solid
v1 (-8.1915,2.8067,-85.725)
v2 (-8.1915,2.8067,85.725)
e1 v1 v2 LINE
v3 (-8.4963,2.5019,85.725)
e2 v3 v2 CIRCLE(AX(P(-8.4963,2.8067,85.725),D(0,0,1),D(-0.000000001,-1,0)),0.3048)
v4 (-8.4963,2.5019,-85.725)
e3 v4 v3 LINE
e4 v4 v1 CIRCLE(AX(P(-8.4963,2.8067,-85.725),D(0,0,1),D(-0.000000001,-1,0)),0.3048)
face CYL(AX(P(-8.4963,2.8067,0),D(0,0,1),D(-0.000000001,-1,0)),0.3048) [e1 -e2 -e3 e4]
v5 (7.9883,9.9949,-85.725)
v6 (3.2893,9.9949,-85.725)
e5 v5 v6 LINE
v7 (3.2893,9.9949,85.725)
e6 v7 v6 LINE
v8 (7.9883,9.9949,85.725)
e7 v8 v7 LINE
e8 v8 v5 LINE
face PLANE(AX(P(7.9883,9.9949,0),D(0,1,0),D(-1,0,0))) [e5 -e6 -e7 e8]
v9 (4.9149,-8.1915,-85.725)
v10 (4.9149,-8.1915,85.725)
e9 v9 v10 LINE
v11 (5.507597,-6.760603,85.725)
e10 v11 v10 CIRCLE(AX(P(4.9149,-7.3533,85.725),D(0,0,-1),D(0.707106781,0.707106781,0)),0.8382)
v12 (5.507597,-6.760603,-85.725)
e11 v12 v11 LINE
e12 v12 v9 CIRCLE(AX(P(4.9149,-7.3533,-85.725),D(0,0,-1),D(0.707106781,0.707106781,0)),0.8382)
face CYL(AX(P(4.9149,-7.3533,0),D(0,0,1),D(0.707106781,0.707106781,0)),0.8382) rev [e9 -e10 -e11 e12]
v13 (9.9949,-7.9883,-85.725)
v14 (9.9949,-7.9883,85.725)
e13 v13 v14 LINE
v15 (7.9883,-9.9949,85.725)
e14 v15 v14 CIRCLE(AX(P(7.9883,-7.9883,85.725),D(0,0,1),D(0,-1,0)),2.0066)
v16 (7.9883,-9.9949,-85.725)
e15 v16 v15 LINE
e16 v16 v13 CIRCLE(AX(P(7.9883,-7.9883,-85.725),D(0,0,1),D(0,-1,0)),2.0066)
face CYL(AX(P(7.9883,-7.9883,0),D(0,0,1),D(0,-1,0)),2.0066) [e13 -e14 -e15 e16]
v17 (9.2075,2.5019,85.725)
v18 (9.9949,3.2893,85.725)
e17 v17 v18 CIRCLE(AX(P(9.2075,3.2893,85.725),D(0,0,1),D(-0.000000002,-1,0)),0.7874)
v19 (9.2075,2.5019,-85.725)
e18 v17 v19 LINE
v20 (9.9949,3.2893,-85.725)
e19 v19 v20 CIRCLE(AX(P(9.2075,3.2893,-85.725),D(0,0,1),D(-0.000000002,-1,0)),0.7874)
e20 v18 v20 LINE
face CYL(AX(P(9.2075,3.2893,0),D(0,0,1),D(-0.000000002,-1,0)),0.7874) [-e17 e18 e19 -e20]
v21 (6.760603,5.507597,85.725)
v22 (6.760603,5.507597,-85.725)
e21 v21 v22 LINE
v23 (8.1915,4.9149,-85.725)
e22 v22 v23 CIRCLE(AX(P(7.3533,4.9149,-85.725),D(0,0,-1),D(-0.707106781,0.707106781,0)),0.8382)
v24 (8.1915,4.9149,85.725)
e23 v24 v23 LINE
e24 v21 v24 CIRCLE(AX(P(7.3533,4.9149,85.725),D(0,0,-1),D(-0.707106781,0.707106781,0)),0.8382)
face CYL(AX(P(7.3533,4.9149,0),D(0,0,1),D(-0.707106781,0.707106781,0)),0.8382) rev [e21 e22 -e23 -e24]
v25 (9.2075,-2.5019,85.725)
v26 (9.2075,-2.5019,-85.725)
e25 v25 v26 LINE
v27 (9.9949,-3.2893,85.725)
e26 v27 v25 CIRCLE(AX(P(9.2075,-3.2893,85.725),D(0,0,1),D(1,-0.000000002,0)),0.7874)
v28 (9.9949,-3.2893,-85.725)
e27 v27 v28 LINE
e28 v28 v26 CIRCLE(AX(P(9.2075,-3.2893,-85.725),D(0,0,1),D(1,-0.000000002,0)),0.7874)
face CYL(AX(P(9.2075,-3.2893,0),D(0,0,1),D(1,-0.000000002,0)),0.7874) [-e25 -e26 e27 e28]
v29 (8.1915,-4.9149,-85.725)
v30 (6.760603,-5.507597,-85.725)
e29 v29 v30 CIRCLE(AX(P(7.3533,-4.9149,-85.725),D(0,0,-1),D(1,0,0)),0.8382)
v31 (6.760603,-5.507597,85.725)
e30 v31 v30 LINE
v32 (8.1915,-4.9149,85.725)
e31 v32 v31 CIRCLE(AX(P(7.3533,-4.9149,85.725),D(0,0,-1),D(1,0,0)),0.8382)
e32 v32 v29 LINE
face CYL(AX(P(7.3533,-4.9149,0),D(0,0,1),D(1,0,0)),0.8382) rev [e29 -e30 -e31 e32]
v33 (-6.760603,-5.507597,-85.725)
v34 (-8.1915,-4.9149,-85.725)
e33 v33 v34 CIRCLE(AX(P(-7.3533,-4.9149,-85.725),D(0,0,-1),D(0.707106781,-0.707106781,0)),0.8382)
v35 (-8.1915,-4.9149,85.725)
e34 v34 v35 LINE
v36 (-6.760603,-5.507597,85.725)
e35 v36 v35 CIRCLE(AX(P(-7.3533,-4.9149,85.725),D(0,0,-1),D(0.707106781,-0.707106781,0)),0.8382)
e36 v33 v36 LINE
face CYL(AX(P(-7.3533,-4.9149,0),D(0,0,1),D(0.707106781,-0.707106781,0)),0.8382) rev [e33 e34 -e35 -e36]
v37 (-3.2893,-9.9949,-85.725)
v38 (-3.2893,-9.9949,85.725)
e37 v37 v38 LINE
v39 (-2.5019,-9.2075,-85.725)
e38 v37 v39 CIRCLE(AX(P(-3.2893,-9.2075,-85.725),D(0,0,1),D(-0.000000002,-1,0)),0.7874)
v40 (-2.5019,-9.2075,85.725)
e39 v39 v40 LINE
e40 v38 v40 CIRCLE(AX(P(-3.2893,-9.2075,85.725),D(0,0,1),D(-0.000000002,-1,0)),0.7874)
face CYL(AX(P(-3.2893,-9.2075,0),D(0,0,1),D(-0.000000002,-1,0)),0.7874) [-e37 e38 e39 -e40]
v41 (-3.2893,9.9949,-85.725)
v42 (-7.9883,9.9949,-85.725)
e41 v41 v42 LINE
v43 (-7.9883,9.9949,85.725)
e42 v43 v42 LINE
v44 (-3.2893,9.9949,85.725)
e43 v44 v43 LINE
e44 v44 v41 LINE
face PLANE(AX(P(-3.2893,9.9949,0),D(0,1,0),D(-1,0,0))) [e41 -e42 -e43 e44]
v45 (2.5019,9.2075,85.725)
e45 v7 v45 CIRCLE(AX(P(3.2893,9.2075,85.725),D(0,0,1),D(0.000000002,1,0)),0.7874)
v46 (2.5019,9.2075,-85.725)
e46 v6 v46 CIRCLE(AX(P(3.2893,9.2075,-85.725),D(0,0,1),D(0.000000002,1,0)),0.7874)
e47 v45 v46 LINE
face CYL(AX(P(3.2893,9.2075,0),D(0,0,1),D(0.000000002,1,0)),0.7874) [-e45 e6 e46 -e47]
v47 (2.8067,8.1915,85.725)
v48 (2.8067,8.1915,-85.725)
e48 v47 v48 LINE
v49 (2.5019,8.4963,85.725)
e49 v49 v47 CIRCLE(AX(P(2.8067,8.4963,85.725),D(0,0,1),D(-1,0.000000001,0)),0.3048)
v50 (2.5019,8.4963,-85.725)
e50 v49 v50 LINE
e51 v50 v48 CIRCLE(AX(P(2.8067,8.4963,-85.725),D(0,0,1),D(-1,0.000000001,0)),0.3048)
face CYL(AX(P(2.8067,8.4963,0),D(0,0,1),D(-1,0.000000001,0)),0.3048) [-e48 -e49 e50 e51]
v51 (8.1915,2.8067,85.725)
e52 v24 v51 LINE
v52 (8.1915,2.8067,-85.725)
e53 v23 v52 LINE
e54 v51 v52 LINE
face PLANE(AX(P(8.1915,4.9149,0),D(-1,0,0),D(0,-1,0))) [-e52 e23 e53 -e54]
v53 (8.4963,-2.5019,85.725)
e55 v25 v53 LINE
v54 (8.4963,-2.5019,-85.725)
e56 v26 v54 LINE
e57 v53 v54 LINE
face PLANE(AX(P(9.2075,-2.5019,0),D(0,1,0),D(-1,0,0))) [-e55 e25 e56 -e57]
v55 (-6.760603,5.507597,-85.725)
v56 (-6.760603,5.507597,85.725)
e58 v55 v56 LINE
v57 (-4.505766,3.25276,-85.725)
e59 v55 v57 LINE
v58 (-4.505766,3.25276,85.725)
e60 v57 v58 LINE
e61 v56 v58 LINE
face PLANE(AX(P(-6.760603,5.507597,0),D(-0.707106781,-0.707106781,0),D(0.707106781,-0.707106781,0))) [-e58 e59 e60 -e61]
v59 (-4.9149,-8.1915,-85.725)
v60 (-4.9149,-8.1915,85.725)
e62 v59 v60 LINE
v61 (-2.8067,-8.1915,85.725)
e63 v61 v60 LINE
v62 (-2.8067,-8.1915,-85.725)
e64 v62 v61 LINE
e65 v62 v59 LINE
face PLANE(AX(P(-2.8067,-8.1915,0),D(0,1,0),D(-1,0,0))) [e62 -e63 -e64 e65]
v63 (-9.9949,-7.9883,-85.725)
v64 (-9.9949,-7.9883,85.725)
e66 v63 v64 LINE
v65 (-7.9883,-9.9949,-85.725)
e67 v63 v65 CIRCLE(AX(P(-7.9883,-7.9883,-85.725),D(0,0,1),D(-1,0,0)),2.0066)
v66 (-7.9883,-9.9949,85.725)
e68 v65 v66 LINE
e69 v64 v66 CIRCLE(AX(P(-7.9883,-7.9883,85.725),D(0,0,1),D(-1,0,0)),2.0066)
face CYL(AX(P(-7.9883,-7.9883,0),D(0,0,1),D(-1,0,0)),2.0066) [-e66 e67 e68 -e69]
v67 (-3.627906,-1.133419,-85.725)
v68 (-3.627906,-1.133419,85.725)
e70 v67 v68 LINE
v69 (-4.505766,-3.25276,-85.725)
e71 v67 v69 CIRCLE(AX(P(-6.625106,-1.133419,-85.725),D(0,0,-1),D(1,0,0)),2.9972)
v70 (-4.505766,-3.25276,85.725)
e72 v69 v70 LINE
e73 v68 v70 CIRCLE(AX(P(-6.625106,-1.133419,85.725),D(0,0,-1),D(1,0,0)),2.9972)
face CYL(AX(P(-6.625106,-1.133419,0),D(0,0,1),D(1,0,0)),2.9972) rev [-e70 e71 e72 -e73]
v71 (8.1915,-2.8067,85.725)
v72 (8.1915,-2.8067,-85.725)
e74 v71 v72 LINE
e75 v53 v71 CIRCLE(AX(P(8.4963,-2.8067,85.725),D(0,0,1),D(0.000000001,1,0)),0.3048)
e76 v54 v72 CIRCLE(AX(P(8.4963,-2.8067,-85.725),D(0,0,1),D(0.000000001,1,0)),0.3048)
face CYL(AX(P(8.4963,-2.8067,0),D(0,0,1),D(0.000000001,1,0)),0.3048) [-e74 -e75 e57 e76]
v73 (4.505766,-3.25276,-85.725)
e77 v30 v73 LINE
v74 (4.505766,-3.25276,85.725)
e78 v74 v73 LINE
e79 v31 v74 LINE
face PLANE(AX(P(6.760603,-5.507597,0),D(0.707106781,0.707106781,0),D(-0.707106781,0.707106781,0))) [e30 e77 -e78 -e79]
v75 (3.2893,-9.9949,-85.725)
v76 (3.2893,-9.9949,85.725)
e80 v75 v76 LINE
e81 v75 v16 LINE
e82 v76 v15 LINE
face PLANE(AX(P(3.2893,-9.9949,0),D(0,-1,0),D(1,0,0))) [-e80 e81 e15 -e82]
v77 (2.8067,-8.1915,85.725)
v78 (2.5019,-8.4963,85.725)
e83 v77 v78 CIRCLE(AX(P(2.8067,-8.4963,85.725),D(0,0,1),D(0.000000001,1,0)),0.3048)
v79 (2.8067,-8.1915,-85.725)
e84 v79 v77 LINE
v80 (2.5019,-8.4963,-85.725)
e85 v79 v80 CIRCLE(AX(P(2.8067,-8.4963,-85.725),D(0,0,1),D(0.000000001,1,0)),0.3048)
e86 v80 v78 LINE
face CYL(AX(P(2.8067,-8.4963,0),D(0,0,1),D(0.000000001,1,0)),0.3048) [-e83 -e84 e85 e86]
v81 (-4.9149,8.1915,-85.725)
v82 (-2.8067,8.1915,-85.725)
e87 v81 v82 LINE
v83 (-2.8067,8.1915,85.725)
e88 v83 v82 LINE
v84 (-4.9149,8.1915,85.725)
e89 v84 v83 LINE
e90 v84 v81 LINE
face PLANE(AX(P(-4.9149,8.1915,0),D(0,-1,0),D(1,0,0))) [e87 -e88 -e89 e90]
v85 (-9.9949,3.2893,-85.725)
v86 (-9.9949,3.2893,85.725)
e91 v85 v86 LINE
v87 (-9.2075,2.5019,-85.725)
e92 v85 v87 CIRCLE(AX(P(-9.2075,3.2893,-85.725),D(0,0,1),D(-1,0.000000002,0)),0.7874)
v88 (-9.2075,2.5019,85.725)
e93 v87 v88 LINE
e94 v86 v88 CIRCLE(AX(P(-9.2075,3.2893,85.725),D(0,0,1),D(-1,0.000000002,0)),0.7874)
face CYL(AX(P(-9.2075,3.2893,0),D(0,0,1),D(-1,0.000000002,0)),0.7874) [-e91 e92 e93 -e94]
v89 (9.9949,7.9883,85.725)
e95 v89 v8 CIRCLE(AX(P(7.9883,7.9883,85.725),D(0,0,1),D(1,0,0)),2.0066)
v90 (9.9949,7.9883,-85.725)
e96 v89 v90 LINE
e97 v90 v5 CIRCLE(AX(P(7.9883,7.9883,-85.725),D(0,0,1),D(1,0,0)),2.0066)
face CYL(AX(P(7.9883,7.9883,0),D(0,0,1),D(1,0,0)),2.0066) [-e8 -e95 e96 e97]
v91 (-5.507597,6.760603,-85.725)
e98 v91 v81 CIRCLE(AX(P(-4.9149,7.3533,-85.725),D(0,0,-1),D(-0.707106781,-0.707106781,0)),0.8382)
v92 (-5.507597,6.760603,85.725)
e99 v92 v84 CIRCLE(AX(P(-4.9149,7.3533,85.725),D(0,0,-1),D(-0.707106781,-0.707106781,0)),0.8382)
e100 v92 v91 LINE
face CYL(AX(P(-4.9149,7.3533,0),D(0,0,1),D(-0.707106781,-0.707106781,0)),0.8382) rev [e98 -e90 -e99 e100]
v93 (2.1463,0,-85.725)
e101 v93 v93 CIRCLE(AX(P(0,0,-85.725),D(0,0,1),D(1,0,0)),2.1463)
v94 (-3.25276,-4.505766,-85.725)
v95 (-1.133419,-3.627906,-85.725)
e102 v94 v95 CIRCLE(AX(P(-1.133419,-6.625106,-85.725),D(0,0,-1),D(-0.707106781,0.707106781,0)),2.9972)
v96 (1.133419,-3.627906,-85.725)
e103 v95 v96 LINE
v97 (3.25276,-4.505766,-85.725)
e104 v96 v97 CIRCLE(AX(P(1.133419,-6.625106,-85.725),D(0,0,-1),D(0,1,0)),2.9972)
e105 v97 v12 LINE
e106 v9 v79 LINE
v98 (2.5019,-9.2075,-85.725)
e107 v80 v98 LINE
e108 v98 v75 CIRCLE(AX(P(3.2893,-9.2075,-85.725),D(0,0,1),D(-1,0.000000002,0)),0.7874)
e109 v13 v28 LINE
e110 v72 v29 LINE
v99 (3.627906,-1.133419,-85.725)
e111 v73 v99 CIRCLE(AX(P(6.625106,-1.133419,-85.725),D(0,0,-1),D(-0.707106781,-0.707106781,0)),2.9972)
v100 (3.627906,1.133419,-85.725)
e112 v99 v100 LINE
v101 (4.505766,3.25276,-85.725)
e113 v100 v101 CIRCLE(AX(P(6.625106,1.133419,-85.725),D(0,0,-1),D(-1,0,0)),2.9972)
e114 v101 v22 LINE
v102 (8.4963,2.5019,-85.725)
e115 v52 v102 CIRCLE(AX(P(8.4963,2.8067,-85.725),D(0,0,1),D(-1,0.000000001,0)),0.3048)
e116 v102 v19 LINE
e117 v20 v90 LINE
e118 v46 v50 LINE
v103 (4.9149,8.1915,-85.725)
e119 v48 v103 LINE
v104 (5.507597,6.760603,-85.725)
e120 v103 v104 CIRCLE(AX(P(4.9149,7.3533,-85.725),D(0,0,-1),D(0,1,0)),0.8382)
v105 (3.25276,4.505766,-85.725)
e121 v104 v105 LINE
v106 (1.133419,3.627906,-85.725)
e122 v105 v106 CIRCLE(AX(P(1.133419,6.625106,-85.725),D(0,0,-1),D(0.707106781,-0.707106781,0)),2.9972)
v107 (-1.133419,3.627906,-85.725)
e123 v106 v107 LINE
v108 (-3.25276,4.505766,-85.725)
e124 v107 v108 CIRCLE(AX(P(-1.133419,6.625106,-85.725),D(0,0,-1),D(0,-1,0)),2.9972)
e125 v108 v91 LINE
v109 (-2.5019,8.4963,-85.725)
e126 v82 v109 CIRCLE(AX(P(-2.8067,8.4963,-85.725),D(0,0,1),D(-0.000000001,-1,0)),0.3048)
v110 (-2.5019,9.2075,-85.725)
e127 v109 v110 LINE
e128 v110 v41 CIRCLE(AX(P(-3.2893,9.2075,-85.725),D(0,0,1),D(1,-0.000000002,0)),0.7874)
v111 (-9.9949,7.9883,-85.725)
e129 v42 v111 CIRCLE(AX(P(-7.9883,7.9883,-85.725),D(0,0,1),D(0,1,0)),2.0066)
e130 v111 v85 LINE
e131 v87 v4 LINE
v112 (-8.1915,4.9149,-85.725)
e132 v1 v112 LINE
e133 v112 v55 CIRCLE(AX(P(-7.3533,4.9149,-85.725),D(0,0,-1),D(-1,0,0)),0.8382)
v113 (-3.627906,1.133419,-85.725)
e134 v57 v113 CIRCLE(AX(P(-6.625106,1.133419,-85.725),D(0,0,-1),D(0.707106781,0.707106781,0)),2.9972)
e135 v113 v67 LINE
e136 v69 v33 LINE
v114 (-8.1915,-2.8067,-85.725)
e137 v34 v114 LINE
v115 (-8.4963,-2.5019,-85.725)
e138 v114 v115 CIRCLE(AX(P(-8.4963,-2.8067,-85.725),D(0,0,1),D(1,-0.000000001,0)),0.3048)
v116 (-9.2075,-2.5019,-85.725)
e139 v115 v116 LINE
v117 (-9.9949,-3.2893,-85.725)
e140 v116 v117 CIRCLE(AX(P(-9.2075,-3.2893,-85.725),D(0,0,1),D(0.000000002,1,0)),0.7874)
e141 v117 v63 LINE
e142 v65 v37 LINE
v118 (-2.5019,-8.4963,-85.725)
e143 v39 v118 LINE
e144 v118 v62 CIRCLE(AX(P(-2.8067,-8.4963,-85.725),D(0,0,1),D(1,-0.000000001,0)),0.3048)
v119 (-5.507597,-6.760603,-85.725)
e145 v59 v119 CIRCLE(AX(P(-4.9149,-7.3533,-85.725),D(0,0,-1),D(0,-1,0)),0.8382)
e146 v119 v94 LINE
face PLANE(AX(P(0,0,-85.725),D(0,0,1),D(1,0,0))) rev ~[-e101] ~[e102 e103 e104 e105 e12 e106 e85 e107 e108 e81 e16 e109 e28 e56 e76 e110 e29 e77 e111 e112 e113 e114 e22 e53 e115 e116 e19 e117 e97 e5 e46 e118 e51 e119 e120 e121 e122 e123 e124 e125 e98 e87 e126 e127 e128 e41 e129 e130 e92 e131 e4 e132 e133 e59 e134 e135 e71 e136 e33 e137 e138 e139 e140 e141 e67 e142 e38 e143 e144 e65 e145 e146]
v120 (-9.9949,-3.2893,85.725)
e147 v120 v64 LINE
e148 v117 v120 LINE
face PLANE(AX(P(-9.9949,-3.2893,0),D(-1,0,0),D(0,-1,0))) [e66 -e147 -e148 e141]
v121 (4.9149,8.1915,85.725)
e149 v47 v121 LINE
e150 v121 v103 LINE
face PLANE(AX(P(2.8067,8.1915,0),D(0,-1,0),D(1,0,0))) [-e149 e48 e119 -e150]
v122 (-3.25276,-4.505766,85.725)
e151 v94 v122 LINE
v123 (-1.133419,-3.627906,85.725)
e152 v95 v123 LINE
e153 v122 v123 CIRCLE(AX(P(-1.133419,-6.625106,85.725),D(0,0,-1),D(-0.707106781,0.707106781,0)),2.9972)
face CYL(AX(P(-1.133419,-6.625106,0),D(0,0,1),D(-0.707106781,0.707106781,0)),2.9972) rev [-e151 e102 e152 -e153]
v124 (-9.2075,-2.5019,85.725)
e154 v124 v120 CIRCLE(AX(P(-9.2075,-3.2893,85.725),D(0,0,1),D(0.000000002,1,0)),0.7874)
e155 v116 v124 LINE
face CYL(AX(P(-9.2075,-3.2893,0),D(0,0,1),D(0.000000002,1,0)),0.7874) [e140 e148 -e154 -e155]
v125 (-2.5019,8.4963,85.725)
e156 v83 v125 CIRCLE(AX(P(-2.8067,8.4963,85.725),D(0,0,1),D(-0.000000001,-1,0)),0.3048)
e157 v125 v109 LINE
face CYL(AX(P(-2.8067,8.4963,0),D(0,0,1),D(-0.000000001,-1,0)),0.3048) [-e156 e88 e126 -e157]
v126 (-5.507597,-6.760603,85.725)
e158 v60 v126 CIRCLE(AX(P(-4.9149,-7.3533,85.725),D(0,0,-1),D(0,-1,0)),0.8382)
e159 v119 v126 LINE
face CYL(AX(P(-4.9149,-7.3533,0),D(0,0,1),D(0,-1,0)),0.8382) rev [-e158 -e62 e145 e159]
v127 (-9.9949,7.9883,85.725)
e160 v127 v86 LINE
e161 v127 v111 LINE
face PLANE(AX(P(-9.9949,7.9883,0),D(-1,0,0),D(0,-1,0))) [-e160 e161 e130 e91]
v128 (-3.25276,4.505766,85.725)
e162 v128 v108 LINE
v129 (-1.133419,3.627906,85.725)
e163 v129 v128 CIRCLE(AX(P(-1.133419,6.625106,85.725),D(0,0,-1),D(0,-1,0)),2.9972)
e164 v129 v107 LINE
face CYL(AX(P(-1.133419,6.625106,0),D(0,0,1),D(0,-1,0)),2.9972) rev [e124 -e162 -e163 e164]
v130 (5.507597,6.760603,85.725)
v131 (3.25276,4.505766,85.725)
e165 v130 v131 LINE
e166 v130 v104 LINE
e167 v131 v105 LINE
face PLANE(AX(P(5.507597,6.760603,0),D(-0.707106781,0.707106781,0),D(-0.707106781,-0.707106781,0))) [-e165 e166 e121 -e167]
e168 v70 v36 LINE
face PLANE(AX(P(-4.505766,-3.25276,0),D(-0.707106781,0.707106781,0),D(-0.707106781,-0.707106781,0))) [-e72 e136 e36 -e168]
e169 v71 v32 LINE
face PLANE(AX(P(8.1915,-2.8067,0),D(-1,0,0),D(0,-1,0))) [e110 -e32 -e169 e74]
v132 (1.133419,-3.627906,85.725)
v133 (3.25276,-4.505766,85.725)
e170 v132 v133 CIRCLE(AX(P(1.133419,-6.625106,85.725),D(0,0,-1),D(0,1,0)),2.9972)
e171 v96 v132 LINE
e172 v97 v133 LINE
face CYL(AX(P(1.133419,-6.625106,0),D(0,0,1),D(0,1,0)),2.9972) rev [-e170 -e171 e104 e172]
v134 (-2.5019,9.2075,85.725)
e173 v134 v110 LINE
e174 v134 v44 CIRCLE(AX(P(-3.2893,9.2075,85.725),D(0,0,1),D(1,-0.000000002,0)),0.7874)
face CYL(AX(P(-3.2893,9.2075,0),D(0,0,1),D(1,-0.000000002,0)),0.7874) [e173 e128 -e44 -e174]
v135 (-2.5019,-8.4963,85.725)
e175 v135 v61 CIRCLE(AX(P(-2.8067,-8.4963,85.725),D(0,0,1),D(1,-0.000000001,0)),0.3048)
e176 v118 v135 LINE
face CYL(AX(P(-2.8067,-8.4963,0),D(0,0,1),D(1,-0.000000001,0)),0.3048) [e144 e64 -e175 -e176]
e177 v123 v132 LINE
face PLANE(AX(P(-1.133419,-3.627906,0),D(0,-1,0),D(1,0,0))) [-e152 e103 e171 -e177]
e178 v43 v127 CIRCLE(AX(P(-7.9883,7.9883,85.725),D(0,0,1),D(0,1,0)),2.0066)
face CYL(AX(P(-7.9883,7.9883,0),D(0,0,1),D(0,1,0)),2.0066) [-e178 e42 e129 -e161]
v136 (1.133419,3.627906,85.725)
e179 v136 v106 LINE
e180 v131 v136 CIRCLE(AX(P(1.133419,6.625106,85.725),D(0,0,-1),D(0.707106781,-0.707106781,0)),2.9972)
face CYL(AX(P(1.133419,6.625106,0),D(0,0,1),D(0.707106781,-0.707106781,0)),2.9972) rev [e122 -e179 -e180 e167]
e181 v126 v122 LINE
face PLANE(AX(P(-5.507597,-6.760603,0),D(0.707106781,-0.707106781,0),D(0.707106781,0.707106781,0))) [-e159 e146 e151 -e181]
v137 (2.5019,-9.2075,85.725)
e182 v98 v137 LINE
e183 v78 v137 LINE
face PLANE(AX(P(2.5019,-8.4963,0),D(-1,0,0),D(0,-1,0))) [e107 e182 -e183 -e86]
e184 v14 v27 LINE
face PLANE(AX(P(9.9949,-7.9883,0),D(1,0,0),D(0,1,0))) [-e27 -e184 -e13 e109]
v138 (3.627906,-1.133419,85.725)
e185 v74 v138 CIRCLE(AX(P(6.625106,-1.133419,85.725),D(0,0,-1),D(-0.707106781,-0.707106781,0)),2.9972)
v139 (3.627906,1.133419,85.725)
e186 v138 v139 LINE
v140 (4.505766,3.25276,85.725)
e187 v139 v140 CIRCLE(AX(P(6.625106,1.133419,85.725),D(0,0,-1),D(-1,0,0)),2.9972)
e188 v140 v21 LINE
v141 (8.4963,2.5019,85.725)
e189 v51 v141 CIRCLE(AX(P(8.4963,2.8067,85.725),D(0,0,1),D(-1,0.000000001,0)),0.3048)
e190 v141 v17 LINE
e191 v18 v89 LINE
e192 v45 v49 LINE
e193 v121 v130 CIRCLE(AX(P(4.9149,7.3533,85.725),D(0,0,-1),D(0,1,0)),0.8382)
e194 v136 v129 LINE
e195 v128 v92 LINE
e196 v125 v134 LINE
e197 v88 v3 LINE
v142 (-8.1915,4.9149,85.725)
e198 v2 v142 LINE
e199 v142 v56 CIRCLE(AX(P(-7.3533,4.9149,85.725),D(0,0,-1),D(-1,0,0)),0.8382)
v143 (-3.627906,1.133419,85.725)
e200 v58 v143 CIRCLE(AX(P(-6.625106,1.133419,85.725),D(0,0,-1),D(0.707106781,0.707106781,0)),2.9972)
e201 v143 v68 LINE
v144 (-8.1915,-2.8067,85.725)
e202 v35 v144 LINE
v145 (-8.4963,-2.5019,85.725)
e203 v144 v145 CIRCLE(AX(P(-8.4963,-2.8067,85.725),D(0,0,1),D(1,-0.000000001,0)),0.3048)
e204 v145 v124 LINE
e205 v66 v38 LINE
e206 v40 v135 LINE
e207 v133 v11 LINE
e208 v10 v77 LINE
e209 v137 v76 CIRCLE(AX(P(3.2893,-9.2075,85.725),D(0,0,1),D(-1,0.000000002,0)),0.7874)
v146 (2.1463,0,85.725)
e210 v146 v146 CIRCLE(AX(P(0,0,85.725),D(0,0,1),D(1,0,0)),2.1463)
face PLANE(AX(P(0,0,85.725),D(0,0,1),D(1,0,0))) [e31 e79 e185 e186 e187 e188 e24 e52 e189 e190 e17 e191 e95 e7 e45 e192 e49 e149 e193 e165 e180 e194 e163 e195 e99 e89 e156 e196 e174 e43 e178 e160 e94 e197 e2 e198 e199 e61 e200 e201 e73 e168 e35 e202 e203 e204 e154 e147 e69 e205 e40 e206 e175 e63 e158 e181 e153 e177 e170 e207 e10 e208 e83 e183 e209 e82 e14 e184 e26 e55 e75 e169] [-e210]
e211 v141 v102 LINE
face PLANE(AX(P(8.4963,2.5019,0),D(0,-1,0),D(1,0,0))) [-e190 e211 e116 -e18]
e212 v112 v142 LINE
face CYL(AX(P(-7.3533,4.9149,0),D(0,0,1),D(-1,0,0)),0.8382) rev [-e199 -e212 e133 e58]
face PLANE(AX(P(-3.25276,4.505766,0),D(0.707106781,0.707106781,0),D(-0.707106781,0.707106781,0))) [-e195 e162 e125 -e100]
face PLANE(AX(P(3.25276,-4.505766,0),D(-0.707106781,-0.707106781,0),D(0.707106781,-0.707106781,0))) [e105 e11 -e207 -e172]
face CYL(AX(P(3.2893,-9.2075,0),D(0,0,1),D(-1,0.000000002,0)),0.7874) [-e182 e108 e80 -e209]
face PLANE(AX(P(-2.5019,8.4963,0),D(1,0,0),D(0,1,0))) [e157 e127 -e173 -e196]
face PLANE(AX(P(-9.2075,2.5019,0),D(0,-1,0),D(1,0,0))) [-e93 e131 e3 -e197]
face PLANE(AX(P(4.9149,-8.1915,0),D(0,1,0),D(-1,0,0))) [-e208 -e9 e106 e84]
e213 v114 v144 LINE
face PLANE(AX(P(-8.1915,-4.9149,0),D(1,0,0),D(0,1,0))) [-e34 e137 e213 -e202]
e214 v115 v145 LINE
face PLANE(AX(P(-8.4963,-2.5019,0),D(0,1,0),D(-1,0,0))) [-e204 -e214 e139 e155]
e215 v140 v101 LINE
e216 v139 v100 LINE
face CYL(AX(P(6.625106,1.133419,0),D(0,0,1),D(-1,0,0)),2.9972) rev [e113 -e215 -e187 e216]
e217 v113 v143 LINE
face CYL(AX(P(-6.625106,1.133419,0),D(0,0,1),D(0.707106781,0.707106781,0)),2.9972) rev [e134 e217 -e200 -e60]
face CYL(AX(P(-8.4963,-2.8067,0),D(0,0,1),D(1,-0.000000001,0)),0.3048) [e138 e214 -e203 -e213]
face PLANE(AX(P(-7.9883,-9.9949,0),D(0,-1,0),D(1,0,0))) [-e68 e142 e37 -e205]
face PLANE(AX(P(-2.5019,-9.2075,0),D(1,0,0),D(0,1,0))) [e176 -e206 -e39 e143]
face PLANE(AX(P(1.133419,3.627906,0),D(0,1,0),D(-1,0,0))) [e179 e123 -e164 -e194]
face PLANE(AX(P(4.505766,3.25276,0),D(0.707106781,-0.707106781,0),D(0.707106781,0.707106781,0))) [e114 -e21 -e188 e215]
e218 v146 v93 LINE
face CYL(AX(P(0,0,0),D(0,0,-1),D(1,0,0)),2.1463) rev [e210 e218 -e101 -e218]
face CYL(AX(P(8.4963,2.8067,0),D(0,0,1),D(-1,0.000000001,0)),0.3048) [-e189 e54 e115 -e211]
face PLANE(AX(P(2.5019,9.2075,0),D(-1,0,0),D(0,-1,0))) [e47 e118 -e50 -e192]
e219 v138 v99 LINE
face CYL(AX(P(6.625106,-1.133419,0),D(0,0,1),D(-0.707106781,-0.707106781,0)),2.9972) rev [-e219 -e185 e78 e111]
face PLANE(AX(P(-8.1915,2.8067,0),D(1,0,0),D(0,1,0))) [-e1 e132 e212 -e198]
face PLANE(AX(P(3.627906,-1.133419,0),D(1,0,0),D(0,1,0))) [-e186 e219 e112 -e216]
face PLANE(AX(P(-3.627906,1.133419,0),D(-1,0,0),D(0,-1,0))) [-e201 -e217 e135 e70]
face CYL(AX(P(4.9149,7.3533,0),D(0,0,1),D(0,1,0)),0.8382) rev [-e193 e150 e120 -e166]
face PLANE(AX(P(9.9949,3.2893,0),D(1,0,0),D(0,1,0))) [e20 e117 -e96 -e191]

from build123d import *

# Parameters (mm, degrees)
SKETCH1_R           = 2.1463
BOSS_EXTRUDE1_DEPTH = 85.725


with BuildPart() as part:
    # Sketch1 → Boss-Extrude1 (new, symmetric)
    with BuildSketch(Plane.XY):
        with BuildLine():
            Line((-9.9949, 7.9883), (-9.9949, 3.2893))
            ThreePointArc((-9.9949, 3.2893), (-9.76427588, 2.73252412), (-9.2075, 2.5019))
            Line((-9.2075, 2.5019), (-8.4963, 2.5019))
            ThreePointArc((-8.4963, 2.5019), (-8.280773853, 2.591173853), (-8.1915, 2.8067))
            Line((-8.1915, 2.8067), (-8.1915, 4.9149))
            ThreePointArc((-8.1915, 4.9149), (-7.674065253, 5.689295824), (-6.760603096, 5.507596904))
            Line((-6.760603096, 5.507596904), (-4.505765747, 3.252759555))
            ThreePointArc((-4.505765747, 3.252759555), (-3.856054457, 2.280397894), (-3.627906192, 1.133419111))
            Line((-3.627906192, 1.133419111), (-3.627906192, -1.133419111))
            ThreePointArc((-3.627906192, -1.133419111), (-3.856054457, -2.280397894), (-4.505765747, -3.252759555))
            Line((-4.505765747, -3.252759555), (-6.760603096, -5.507596904))
            ThreePointArc((-6.760603096, -5.507596904), (-7.674065253, -5.689295824), (-8.1915, -4.9149))
            Line((-8.1915, -4.9149), (-8.1915, -2.8067))
            ThreePointArc((-8.1915, -2.8067), (-8.280773853, -2.591173853), (-8.4963, -2.5019))
            Line((-8.4963, -2.5019), (-9.2075, -2.5019))
            ThreePointArc((-9.2075, -2.5019), (-9.76427588, -2.73252412), (-9.9949, -3.2893))
            Line((-9.9949, -3.2893), (-9.9949, -7.9883))
            ThreePointArc((-9.9949, -7.9883), (-9.407180467, -9.407180467), (-7.9883, -9.9949))
            Line((-7.9883, -9.9949), (-3.2893, -9.9949))
            ThreePointArc((-3.2893, -9.9949), (-2.73252412, -9.76427588), (-2.5019, -9.2075))
            Line((-2.5019, -9.2075), (-2.5019, -8.4963))
            ThreePointArc((-2.5019, -8.4963), (-2.591173853, -8.280773853), (-2.8067, -8.1915))
            Line((-2.8067, -8.1915), (-4.9149, -8.1915))
            ThreePointArc((-4.9149, -8.1915), (-5.689295824, -7.674065253), (-5.507596904, -6.760603096))
            Line((-5.507596904, -6.760603096), (-3.252759555, -4.505765747))
            ThreePointArc((-3.252759555, -4.505765747), (-2.280397894, -3.856054457), (-1.133419111, -3.627906192))
            Line((-1.133419111, -3.627906192), (1.133419111, -3.627906192))
            ThreePointArc((1.133419111, -3.627906192), (2.280397894, -3.856054457), (3.252759555, -4.505765747))
            Line((3.252759555, -4.505765747), (5.507596904, -6.760603096))
            ThreePointArc((5.507596904, -6.760603096), (5.689295824, -7.674065253), (4.9149, -8.1915))
            Line((4.9149, -8.1915), (2.8067, -8.1915))
            ThreePointArc((2.8067, -8.1915), (2.591173853, -8.280773853), (2.5019, -8.4963))
            Line((2.5019, -8.4963), (2.5019, -9.2075))
            ThreePointArc((2.5019, -9.2075), (2.73252412, -9.76427588), (3.2893, -9.9949))
            Line((3.2893, -9.9949), (7.9883, -9.9949))
            ThreePointArc((7.9883, -9.9949), (9.407180467, -9.407180467), (9.9949, -7.9883))
            Line((9.9949, -7.9883), (9.9949, -3.2893))
            ThreePointArc((9.9949, -3.2893), (9.76427588, -2.73252412), (9.2075, -2.5019))
            Line((9.2075, -2.5019), (8.4963, -2.5019))
            ThreePointArc((8.4963, -2.5019), (8.280773853, -2.591173853), (8.1915, -2.8067))
            Line((8.1915, -2.8067), (8.1915, -4.9149))
            ThreePointArc((8.1915, -4.9149), (7.674065253, -5.689295824), (6.760603096, -5.507596904))
            Line((6.760603096, -5.507596904), (4.505765747, -3.252759555))
            ThreePointArc((4.505765747, -3.252759555), (3.856054457, -2.280397894), (3.627906192, -1.133419111))
            Line((3.627906192, -1.133419111), (3.627906192, 1.133419111))
            ThreePointArc((3.627906192, 1.133419111), (3.856054457, 2.280397894), (4.505765747, 3.252759555))
            Line((4.505765747, 3.252759555), (6.760603096, 5.507596904))
            ThreePointArc((6.760603096, 5.507596904), (7.674065253, 5.689295824), (8.1915, 4.9149))
            Line((8.1915, 4.9149), (8.1915, 2.8067))
            ThreePointArc((8.1915, 2.8067), (8.280773853, 2.591173853), (8.4963, 2.5019))
            Line((8.4963, 2.5019), (9.2075, 2.5019))
            ThreePointArc((9.2075, 2.5019), (9.76427588, 2.73252412), (9.9949, 3.2893))
            Line((9.9949, 3.2893), (9.9949, 7.9883))
            ThreePointArc((9.9949, 7.9883), (9.407180467, 9.407180467), (7.9883, 9.9949))
            Line((7.9883, 9.9949), (3.2893, 9.9949))
            ThreePointArc((3.2893, 9.9949), (2.73252412, 9.76427588), (2.5019, 9.2075))
            Line((2.5019, 9.2075), (2.5019, 8.4963))
            ThreePointArc((2.5019, 8.4963), (2.591173853, 8.280773853), (2.8067, 8.1915))
            Line((2.8067, 8.1915), (4.9149, 8.1915))
            ThreePointArc((4.9149, 8.1915), (5.689295824, 7.674065253), (5.507596904, 6.760603096))
            Line((5.507596904, 6.760603096), (3.252759555, 4.505765747))
            ThreePointArc((3.252759555, 4.505765747), (2.280397894, 3.856054457), (1.133419111, 3.627906192))
            Line((1.133419111, 3.627906192), (-1.133419111, 3.627906192))
            ThreePointArc((-1.133419111, 3.627906192), (-2.280397894, 3.856054457), (-3.252759555, 4.505765747))
            Line((-3.252759555, 4.505765747), (-5.507596904, 6.760603096))
            ThreePointArc((-5.507596904, 6.760603096), (-5.689295824, 7.674065253), (-4.9149, 8.1915))
            Line((-4.9149, 8.1915), (-2.8067, 8.1915))
            ThreePointArc((-2.8067, 8.1915), (-2.591173853, 8.280773853), (-2.5019, 8.4963))
            Line((-2.5019, 8.4963), (-2.5019, 9.2075))
            ThreePointArc((-2.5019, 9.2075), (-2.73252412, 9.76427588), (-3.2893, 9.9949))
            Line((-3.2893, 9.9949), (-7.9883, 9.9949))
            ThreePointArc((-7.9883, 9.9949), (-9.407180467, 9.407180467), (-9.9949, 7.9883))
        make_face()
        Circle(SKETCH1_R, mode=Mode.SUBTRACT)
    extrude(amount=BOSS_EXTRUDE1_DEPTH, both=True)


solid = part.part
